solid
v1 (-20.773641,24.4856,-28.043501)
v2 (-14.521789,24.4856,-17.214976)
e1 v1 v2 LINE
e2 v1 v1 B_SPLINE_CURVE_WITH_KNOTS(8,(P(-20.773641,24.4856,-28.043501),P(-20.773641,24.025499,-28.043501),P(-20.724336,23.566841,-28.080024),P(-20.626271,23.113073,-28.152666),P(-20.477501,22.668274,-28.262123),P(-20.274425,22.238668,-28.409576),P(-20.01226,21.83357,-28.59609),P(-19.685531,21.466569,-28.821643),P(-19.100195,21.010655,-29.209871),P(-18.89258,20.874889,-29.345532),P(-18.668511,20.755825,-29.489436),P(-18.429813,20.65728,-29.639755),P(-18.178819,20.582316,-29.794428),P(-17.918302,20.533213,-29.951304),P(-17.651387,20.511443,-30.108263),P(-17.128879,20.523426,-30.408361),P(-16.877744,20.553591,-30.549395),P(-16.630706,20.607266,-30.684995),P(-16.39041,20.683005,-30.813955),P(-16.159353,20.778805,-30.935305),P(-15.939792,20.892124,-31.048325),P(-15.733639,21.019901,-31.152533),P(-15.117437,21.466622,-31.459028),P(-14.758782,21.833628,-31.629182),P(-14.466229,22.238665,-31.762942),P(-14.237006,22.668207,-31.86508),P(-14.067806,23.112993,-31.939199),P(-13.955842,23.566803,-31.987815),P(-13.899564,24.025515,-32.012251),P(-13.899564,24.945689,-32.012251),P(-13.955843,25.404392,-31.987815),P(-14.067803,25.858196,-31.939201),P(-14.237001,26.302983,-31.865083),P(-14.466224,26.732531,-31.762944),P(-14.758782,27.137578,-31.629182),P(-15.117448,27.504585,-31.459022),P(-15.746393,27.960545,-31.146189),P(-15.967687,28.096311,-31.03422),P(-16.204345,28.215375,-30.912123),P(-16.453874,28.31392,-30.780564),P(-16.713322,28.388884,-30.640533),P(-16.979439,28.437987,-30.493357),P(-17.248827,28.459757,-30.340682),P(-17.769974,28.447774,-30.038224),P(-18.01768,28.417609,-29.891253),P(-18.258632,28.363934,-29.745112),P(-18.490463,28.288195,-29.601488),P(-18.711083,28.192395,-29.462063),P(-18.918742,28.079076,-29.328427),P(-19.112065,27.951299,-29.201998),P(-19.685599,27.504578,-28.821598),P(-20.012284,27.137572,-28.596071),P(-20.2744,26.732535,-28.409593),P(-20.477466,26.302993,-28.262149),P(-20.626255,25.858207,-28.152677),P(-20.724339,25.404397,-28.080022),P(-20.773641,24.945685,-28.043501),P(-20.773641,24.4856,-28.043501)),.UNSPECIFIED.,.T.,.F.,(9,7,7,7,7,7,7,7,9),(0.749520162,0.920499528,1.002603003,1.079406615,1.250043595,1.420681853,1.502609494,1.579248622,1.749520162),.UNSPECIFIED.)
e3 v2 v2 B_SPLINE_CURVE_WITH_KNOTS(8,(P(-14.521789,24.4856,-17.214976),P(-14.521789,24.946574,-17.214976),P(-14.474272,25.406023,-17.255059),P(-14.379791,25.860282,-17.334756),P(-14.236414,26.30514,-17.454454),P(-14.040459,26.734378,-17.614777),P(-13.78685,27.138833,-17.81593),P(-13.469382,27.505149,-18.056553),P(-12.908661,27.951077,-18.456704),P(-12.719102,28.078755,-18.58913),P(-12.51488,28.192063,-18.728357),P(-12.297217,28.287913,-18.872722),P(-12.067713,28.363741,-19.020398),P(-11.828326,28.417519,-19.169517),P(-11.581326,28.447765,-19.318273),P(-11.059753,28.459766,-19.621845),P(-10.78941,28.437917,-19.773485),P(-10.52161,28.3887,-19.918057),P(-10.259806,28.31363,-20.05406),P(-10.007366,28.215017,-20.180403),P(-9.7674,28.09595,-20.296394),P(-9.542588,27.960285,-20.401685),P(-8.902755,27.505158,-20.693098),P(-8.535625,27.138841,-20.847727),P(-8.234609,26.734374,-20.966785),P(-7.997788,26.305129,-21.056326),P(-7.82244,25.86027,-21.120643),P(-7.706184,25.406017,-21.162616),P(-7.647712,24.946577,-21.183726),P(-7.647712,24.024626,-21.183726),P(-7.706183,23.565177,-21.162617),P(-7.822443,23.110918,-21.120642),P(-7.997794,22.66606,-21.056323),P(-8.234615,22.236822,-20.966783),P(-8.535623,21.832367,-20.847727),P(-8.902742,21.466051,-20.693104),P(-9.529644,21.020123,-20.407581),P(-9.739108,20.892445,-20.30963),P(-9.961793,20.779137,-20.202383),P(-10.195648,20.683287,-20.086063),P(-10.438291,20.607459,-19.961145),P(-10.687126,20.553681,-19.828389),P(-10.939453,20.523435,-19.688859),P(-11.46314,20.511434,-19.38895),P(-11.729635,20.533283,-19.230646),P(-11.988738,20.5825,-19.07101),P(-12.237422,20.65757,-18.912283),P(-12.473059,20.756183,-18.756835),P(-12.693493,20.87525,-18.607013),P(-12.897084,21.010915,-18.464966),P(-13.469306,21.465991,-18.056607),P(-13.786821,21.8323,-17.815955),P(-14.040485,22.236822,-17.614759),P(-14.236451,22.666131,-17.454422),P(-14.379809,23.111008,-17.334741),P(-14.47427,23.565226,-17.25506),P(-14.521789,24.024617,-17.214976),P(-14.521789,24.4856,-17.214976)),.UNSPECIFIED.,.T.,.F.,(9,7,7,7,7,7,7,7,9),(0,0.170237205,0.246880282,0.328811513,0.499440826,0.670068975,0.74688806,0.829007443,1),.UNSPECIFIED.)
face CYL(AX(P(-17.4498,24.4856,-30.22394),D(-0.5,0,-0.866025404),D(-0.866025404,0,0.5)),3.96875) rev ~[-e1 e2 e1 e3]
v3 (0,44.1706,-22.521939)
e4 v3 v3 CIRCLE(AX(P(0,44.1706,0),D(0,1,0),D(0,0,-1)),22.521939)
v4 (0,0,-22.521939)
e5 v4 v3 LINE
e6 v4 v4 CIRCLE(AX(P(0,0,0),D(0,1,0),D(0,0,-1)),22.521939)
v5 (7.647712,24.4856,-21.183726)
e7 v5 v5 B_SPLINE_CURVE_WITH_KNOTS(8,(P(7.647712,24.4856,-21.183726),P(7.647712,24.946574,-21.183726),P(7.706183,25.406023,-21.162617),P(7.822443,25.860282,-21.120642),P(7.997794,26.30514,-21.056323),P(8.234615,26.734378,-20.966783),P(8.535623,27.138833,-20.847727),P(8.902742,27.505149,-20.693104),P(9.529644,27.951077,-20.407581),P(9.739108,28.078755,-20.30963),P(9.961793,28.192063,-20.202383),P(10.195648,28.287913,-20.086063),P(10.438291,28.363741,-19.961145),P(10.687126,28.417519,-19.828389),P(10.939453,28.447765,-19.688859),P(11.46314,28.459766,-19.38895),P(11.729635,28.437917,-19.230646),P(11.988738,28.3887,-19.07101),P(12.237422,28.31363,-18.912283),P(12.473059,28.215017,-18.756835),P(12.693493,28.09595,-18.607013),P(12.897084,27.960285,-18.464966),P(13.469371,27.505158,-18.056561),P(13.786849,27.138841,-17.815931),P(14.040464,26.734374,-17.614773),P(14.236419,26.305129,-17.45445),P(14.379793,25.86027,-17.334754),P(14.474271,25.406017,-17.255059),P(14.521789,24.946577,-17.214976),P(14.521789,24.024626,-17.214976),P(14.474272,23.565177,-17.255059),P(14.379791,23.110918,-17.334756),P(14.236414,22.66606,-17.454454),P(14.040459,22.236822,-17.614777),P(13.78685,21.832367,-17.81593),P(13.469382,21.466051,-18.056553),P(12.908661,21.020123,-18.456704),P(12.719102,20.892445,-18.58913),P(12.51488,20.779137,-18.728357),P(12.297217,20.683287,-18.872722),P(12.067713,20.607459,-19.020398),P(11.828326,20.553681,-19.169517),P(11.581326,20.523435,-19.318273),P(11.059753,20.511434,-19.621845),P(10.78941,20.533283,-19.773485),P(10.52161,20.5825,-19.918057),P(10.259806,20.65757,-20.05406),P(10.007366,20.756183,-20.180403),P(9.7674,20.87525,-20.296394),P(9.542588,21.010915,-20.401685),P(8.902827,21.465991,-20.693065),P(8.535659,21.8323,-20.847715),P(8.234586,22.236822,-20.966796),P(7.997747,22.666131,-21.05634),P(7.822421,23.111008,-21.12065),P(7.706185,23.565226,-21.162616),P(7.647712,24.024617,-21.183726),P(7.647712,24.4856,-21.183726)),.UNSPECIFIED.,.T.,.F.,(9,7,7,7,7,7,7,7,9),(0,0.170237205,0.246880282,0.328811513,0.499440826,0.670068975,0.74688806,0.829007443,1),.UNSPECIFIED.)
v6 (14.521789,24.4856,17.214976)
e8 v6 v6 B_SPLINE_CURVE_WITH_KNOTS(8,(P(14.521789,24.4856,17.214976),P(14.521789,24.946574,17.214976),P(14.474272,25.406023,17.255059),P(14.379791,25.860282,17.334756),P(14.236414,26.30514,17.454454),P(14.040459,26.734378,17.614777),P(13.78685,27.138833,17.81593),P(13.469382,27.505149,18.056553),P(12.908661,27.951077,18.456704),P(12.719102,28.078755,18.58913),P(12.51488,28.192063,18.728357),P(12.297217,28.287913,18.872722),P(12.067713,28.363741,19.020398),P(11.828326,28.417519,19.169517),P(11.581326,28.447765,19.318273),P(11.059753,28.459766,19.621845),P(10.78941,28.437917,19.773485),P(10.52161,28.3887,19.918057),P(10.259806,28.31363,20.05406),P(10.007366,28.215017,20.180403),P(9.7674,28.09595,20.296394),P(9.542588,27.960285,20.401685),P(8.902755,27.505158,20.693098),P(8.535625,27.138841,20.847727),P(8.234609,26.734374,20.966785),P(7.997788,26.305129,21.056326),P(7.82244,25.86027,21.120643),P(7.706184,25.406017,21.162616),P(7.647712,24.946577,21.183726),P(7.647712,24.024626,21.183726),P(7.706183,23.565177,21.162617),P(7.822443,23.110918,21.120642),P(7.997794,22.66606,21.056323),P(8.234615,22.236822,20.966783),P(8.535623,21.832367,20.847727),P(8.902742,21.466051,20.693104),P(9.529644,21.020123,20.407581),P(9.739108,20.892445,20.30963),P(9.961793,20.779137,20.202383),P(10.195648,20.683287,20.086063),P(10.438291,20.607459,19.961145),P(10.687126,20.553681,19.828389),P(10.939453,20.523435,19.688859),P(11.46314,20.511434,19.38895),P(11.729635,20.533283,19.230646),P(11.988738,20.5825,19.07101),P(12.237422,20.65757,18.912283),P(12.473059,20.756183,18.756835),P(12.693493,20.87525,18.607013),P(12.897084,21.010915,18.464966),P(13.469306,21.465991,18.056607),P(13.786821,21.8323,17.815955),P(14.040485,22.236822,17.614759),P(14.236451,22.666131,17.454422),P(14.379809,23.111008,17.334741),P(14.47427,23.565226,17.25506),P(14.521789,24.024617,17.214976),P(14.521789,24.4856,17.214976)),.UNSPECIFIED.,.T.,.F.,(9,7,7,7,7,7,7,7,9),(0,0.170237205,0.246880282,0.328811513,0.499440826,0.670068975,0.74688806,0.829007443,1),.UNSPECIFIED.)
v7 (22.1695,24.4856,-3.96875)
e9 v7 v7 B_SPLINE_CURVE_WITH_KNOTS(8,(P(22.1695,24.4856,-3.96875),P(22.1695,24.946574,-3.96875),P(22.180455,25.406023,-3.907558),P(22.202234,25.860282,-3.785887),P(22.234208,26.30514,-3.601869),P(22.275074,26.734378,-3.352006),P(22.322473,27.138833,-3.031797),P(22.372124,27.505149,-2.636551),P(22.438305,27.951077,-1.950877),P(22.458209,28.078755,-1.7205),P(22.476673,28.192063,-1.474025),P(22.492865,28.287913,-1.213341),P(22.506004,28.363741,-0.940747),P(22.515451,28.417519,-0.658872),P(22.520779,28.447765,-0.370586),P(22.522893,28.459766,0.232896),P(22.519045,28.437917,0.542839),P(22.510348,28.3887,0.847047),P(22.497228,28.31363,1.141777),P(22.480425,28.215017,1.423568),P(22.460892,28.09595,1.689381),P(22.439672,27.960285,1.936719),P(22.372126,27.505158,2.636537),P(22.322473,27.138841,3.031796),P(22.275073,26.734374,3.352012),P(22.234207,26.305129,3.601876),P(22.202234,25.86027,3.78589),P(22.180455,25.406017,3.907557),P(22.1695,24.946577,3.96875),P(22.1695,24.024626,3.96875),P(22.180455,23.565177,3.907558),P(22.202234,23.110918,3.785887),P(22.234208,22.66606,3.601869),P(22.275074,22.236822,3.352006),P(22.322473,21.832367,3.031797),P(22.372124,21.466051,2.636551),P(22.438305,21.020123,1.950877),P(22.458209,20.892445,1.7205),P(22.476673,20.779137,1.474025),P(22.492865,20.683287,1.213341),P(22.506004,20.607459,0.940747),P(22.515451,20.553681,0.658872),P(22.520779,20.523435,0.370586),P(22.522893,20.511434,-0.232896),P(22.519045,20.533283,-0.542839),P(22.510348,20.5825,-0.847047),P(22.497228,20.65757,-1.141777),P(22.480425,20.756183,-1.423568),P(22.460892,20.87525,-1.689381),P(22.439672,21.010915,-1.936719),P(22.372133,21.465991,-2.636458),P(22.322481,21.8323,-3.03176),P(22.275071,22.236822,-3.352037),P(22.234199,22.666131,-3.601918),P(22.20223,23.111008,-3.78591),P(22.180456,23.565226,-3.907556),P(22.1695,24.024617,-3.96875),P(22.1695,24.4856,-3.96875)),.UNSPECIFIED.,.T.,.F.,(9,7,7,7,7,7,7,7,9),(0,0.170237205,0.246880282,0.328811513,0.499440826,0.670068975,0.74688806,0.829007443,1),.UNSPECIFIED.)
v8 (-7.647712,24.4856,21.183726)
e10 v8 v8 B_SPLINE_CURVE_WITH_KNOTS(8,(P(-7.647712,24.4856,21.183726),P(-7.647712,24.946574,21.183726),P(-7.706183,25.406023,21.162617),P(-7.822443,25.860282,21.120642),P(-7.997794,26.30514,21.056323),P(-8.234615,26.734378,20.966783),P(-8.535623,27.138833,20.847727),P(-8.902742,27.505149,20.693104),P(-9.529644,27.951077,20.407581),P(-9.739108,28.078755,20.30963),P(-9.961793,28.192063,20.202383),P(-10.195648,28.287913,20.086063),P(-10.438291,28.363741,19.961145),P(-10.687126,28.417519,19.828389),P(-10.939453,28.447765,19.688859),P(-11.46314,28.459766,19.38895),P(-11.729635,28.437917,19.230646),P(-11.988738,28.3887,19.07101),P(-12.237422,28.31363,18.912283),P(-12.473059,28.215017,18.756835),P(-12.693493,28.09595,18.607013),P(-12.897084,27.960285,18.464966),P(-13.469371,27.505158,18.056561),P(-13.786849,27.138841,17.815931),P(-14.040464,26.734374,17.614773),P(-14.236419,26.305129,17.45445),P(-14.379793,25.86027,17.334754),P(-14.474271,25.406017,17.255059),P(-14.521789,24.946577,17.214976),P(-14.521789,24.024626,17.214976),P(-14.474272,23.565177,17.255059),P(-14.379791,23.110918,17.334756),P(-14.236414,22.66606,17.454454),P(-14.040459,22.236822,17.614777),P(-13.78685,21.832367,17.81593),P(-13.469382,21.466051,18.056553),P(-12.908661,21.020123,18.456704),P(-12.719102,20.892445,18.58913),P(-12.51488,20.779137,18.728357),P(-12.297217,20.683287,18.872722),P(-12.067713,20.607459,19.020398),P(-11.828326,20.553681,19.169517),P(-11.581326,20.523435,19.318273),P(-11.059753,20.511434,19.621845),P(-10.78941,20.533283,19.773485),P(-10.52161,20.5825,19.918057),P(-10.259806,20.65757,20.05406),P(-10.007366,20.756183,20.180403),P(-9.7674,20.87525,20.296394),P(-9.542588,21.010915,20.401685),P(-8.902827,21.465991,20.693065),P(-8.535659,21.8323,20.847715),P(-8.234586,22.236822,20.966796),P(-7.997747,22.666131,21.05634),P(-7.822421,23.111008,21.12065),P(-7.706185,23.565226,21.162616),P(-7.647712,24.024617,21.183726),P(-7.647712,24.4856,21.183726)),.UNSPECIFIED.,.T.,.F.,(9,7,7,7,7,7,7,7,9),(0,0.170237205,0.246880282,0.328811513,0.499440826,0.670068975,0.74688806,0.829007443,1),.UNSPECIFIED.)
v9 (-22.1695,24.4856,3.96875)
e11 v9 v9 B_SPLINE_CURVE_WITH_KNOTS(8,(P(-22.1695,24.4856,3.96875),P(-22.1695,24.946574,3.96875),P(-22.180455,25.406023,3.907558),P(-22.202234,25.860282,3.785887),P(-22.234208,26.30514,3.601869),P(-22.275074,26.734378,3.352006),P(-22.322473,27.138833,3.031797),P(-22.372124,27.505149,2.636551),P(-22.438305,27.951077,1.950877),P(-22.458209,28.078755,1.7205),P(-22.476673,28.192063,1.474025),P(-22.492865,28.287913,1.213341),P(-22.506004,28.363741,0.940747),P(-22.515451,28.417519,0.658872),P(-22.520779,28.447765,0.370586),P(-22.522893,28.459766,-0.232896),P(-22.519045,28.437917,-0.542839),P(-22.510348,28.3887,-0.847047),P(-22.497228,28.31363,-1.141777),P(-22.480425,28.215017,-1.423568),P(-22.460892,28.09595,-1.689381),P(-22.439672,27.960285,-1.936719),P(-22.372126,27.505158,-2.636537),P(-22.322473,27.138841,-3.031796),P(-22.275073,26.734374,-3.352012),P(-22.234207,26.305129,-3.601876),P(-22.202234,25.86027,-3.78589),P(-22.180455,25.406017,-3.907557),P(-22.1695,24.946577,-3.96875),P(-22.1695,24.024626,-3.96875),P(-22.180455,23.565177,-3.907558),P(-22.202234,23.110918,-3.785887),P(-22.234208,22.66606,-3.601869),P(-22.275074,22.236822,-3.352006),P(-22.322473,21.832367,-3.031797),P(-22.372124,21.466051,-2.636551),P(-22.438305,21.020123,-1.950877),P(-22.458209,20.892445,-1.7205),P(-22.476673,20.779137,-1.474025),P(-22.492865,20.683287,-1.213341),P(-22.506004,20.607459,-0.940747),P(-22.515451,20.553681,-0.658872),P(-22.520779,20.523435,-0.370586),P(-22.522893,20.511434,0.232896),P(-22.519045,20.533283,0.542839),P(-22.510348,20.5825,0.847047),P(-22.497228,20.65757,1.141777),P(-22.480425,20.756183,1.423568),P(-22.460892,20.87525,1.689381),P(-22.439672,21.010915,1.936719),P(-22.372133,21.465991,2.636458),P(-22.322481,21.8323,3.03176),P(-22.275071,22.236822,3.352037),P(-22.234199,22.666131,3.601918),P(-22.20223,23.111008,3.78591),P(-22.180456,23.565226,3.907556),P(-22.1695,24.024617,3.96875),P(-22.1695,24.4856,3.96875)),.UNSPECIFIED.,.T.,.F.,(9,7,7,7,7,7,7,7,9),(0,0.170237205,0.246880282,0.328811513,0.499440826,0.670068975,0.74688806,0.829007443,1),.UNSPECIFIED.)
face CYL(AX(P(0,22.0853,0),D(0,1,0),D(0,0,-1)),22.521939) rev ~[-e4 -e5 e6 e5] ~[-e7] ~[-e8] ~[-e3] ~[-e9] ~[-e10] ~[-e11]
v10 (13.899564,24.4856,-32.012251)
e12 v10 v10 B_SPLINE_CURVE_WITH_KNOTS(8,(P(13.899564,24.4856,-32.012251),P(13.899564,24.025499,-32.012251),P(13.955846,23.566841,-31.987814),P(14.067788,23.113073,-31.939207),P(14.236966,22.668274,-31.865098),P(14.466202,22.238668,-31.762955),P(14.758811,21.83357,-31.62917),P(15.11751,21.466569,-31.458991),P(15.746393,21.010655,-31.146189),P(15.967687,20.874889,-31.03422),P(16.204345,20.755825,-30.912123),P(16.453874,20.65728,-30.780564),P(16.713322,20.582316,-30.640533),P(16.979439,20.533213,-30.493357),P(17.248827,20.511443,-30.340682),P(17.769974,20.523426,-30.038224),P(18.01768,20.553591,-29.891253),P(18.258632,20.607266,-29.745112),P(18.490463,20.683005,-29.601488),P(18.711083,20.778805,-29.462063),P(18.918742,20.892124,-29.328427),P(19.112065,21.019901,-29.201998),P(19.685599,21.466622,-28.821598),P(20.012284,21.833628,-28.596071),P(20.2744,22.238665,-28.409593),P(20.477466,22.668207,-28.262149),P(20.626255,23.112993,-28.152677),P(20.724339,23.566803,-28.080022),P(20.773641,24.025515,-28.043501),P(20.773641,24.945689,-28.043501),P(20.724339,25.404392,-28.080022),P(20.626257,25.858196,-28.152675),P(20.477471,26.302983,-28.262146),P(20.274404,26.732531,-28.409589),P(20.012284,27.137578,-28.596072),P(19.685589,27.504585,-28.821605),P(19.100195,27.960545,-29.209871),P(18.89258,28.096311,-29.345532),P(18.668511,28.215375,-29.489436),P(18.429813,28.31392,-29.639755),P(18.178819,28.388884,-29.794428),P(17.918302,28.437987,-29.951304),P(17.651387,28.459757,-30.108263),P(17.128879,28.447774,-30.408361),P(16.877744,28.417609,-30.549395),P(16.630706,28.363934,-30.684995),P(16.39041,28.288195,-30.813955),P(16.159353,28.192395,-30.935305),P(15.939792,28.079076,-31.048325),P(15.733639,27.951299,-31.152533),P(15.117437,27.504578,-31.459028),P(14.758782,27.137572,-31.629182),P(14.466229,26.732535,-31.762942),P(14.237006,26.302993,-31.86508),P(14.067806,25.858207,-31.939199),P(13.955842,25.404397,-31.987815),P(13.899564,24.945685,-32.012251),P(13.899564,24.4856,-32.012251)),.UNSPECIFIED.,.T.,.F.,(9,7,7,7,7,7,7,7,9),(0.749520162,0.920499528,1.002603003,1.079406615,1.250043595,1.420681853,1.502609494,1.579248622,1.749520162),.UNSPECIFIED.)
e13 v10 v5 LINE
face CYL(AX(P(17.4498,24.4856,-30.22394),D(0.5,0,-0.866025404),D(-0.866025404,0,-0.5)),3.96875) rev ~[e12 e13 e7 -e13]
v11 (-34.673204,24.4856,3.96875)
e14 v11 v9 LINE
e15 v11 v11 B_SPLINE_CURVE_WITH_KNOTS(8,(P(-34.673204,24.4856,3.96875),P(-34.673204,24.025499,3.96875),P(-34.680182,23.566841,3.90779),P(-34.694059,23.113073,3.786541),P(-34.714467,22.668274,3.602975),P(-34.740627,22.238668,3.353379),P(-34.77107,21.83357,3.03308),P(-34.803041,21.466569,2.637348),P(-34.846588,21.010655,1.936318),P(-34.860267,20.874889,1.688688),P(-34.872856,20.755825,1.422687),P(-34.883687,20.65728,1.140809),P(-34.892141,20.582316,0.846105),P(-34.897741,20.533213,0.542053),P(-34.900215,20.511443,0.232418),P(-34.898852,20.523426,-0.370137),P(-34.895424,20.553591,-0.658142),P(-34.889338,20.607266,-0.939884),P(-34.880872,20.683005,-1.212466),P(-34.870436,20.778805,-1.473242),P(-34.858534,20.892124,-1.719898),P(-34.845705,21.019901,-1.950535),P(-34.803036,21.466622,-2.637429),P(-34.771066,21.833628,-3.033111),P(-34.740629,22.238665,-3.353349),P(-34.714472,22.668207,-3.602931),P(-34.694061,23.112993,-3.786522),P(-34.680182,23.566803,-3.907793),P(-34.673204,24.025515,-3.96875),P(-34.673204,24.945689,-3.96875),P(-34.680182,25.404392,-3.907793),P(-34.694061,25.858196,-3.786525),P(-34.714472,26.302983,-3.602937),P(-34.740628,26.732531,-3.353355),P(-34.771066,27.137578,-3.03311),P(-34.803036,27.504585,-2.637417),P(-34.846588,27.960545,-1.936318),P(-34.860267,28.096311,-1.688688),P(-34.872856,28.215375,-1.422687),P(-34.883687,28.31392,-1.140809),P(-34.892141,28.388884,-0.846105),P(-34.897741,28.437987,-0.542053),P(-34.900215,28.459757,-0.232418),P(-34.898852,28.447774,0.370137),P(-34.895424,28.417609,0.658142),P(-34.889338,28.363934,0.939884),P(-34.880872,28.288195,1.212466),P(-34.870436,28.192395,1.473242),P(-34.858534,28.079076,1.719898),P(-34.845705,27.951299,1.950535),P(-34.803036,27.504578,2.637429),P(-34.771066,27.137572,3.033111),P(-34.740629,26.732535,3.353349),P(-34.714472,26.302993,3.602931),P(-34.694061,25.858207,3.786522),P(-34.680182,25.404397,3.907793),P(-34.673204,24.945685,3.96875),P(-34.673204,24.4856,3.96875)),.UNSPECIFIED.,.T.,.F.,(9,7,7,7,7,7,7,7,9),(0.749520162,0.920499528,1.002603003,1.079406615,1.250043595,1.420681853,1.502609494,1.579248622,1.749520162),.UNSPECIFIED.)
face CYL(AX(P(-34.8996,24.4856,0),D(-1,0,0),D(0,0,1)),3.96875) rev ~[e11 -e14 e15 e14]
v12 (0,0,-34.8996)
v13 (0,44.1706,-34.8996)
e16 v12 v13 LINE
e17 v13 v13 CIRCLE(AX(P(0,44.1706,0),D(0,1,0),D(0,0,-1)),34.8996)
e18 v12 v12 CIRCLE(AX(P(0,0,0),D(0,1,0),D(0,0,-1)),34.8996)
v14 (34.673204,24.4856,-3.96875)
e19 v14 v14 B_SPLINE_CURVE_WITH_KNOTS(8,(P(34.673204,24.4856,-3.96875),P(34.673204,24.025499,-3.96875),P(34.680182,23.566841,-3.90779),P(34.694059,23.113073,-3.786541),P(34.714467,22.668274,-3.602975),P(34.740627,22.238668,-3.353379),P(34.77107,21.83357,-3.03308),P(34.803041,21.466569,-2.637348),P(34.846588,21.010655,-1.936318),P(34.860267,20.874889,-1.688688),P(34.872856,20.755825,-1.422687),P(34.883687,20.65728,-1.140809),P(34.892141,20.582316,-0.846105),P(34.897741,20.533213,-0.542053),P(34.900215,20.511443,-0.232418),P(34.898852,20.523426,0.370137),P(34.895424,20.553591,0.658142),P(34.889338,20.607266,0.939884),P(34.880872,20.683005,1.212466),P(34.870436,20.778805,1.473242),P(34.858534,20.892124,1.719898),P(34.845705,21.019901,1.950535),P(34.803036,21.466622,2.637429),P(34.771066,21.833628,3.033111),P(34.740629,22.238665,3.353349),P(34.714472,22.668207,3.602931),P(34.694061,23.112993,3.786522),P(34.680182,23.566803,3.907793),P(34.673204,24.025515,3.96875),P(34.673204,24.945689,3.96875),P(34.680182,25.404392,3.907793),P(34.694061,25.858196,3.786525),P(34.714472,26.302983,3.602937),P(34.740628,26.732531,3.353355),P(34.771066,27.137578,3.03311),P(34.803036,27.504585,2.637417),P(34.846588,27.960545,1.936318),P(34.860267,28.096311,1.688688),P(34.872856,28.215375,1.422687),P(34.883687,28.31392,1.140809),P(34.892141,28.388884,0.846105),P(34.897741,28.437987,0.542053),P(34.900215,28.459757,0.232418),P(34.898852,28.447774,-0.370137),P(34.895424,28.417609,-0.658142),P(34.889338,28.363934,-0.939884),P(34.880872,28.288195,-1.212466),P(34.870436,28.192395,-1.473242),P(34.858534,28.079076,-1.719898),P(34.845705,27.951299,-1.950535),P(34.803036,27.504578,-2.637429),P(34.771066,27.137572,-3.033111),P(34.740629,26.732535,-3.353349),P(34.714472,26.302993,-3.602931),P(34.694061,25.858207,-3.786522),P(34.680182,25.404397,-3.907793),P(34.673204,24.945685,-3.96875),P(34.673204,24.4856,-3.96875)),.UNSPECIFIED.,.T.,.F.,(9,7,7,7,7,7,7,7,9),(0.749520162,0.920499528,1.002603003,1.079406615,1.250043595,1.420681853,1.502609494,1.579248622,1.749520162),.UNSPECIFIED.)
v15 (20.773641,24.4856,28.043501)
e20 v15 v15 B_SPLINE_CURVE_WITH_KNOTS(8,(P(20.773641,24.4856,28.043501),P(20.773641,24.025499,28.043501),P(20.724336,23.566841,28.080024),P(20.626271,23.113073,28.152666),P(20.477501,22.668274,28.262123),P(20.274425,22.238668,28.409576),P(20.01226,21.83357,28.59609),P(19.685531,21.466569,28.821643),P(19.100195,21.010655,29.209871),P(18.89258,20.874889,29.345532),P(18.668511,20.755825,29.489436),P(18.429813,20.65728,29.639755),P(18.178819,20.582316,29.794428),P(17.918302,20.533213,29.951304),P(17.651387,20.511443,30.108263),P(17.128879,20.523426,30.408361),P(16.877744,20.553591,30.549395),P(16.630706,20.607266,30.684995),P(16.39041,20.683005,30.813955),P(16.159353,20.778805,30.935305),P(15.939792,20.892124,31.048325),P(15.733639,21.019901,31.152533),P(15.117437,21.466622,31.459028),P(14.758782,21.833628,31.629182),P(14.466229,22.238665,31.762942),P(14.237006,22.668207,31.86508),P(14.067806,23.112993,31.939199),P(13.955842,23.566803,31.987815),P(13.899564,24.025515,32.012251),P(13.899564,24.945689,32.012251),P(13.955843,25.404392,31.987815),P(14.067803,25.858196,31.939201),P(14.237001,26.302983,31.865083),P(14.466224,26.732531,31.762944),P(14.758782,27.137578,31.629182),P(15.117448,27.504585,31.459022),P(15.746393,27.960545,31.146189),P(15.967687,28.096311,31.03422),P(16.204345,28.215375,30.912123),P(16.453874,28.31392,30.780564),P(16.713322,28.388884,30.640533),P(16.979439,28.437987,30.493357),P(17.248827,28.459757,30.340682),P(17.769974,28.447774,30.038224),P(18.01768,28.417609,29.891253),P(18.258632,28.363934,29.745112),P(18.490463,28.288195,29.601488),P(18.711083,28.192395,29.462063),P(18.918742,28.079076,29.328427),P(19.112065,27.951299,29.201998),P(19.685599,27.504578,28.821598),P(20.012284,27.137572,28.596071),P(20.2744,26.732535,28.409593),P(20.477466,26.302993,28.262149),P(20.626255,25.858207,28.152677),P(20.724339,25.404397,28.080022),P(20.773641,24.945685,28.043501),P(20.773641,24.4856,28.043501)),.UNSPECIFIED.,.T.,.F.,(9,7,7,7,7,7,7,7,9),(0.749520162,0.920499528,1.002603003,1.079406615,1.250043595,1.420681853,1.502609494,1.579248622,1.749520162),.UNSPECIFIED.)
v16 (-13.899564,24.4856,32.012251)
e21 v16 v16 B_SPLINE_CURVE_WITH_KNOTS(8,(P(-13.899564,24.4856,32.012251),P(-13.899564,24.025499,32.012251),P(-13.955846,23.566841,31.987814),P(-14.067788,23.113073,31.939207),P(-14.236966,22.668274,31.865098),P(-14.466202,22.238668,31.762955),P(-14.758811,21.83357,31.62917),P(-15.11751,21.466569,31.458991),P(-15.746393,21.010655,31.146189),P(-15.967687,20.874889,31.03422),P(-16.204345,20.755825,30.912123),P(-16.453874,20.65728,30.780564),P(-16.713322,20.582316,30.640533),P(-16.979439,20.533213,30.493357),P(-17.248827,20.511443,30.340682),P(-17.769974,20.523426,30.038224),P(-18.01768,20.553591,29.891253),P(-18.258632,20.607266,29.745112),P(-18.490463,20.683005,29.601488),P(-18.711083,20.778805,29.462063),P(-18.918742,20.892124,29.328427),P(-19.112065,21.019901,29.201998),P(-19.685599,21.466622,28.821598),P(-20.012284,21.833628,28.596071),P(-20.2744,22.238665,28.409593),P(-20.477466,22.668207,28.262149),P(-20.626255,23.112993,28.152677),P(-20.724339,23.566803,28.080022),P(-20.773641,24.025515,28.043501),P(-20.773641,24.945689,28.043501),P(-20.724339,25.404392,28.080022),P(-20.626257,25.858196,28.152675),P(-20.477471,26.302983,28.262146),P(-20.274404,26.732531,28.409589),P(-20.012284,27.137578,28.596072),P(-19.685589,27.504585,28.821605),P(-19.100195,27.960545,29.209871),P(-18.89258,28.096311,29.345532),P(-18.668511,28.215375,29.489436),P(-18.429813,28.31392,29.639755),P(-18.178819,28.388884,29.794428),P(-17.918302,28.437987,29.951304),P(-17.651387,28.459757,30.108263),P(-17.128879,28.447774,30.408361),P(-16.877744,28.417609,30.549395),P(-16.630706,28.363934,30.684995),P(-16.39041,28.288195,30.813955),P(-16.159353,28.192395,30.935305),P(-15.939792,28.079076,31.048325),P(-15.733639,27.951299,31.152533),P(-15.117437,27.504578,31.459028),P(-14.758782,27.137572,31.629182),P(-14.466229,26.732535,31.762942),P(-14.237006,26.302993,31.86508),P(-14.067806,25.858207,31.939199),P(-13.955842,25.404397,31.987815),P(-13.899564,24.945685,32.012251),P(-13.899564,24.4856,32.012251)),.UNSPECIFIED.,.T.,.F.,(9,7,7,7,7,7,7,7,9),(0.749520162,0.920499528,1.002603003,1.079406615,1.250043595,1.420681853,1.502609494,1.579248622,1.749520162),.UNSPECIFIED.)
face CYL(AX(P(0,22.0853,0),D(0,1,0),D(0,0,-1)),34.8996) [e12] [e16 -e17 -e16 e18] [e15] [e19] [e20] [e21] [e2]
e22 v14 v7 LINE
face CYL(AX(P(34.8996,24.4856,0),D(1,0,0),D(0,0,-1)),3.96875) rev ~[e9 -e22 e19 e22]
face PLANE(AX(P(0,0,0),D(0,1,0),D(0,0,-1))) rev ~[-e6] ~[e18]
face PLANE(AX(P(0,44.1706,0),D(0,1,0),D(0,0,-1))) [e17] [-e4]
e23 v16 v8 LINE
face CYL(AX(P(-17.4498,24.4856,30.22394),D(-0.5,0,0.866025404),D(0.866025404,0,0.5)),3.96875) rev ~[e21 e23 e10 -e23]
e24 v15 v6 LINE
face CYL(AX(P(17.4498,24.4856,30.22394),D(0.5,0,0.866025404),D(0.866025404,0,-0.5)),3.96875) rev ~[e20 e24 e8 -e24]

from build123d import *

# Parameters (mm, degrees)
SKETCH2_W                    = 12.3776613
SKETCH2_H                    = 44.1706
F_3_8_16_TAPPED_HOLE2_REACH  = 91.671
F_3_8_16_TAPPED_HOLE2_BORE_R = 3.96875
CIRPATTERN1_COUNT            = 6


with BuildPart() as part:
    # Sketch2 → Revolve1 (revolve)
    with BuildSketch(Plane.XY, mode=Mode.PRIVATE) as revolve1_sk:
        with Locations((-28.71076935, 22.0853)):
            Rectangle(SKETCH2_W, SKETCH2_H)
    revolve(revolve1_sk.sketch.rotate(Axis((0, 0, 0), (0, 1, 0)), 270), axis=Axis((0, 0, 0), (0, 1, 0)))

    # 3/8-16 Tapped Hole2 bore → 3/8-16 Tapped Hole2 (cut, up to next)
    with BuildSketch(Plane(origin=(34.8996, 0, 0), x_dir=(0, 0, -1), z_dir=(1, 0, 0)), mode=Mode.PRIVATE) as f_3_8_16_tapped_hole2_sk1:
        with Locations((0, 24.4856)):
            Circle(F_3_8_16_TAPPED_HOLE2_BORE_R)
    f_3_8_16_tapped_hole2_tool1 = extrude(f_3_8_16_tapped_hole2_sk1.sketch, amount=-F_3_8_16_TAPPED_HOLE2_REACH, mode=Mode.PRIVATE) & part.part
    f_3_8_16_tapped_hole2 = f_3_8_16_tapped_hole2_tool1.solids().sort_by_distance((34.8996, 24.4856, 0))[0]
    add(f_3_8_16_tapped_hole2, mode=Mode.SUBTRACT)

    # CirPattern1: 3/8-16 Tapped Hole2 ×6 about axis
    cirpattern1_axis = Axis((0, 44.1706, 0), (0, -1, 0))
    for i in range(1, CIRPATTERN1_COUNT):
        add(f_3_8_16_tapped_hole2.rotate(cirpattern1_axis, i * 360 / CIRPATTERN1_COUNT), mode=Mode.SUBTRACT)


solid = part.part
